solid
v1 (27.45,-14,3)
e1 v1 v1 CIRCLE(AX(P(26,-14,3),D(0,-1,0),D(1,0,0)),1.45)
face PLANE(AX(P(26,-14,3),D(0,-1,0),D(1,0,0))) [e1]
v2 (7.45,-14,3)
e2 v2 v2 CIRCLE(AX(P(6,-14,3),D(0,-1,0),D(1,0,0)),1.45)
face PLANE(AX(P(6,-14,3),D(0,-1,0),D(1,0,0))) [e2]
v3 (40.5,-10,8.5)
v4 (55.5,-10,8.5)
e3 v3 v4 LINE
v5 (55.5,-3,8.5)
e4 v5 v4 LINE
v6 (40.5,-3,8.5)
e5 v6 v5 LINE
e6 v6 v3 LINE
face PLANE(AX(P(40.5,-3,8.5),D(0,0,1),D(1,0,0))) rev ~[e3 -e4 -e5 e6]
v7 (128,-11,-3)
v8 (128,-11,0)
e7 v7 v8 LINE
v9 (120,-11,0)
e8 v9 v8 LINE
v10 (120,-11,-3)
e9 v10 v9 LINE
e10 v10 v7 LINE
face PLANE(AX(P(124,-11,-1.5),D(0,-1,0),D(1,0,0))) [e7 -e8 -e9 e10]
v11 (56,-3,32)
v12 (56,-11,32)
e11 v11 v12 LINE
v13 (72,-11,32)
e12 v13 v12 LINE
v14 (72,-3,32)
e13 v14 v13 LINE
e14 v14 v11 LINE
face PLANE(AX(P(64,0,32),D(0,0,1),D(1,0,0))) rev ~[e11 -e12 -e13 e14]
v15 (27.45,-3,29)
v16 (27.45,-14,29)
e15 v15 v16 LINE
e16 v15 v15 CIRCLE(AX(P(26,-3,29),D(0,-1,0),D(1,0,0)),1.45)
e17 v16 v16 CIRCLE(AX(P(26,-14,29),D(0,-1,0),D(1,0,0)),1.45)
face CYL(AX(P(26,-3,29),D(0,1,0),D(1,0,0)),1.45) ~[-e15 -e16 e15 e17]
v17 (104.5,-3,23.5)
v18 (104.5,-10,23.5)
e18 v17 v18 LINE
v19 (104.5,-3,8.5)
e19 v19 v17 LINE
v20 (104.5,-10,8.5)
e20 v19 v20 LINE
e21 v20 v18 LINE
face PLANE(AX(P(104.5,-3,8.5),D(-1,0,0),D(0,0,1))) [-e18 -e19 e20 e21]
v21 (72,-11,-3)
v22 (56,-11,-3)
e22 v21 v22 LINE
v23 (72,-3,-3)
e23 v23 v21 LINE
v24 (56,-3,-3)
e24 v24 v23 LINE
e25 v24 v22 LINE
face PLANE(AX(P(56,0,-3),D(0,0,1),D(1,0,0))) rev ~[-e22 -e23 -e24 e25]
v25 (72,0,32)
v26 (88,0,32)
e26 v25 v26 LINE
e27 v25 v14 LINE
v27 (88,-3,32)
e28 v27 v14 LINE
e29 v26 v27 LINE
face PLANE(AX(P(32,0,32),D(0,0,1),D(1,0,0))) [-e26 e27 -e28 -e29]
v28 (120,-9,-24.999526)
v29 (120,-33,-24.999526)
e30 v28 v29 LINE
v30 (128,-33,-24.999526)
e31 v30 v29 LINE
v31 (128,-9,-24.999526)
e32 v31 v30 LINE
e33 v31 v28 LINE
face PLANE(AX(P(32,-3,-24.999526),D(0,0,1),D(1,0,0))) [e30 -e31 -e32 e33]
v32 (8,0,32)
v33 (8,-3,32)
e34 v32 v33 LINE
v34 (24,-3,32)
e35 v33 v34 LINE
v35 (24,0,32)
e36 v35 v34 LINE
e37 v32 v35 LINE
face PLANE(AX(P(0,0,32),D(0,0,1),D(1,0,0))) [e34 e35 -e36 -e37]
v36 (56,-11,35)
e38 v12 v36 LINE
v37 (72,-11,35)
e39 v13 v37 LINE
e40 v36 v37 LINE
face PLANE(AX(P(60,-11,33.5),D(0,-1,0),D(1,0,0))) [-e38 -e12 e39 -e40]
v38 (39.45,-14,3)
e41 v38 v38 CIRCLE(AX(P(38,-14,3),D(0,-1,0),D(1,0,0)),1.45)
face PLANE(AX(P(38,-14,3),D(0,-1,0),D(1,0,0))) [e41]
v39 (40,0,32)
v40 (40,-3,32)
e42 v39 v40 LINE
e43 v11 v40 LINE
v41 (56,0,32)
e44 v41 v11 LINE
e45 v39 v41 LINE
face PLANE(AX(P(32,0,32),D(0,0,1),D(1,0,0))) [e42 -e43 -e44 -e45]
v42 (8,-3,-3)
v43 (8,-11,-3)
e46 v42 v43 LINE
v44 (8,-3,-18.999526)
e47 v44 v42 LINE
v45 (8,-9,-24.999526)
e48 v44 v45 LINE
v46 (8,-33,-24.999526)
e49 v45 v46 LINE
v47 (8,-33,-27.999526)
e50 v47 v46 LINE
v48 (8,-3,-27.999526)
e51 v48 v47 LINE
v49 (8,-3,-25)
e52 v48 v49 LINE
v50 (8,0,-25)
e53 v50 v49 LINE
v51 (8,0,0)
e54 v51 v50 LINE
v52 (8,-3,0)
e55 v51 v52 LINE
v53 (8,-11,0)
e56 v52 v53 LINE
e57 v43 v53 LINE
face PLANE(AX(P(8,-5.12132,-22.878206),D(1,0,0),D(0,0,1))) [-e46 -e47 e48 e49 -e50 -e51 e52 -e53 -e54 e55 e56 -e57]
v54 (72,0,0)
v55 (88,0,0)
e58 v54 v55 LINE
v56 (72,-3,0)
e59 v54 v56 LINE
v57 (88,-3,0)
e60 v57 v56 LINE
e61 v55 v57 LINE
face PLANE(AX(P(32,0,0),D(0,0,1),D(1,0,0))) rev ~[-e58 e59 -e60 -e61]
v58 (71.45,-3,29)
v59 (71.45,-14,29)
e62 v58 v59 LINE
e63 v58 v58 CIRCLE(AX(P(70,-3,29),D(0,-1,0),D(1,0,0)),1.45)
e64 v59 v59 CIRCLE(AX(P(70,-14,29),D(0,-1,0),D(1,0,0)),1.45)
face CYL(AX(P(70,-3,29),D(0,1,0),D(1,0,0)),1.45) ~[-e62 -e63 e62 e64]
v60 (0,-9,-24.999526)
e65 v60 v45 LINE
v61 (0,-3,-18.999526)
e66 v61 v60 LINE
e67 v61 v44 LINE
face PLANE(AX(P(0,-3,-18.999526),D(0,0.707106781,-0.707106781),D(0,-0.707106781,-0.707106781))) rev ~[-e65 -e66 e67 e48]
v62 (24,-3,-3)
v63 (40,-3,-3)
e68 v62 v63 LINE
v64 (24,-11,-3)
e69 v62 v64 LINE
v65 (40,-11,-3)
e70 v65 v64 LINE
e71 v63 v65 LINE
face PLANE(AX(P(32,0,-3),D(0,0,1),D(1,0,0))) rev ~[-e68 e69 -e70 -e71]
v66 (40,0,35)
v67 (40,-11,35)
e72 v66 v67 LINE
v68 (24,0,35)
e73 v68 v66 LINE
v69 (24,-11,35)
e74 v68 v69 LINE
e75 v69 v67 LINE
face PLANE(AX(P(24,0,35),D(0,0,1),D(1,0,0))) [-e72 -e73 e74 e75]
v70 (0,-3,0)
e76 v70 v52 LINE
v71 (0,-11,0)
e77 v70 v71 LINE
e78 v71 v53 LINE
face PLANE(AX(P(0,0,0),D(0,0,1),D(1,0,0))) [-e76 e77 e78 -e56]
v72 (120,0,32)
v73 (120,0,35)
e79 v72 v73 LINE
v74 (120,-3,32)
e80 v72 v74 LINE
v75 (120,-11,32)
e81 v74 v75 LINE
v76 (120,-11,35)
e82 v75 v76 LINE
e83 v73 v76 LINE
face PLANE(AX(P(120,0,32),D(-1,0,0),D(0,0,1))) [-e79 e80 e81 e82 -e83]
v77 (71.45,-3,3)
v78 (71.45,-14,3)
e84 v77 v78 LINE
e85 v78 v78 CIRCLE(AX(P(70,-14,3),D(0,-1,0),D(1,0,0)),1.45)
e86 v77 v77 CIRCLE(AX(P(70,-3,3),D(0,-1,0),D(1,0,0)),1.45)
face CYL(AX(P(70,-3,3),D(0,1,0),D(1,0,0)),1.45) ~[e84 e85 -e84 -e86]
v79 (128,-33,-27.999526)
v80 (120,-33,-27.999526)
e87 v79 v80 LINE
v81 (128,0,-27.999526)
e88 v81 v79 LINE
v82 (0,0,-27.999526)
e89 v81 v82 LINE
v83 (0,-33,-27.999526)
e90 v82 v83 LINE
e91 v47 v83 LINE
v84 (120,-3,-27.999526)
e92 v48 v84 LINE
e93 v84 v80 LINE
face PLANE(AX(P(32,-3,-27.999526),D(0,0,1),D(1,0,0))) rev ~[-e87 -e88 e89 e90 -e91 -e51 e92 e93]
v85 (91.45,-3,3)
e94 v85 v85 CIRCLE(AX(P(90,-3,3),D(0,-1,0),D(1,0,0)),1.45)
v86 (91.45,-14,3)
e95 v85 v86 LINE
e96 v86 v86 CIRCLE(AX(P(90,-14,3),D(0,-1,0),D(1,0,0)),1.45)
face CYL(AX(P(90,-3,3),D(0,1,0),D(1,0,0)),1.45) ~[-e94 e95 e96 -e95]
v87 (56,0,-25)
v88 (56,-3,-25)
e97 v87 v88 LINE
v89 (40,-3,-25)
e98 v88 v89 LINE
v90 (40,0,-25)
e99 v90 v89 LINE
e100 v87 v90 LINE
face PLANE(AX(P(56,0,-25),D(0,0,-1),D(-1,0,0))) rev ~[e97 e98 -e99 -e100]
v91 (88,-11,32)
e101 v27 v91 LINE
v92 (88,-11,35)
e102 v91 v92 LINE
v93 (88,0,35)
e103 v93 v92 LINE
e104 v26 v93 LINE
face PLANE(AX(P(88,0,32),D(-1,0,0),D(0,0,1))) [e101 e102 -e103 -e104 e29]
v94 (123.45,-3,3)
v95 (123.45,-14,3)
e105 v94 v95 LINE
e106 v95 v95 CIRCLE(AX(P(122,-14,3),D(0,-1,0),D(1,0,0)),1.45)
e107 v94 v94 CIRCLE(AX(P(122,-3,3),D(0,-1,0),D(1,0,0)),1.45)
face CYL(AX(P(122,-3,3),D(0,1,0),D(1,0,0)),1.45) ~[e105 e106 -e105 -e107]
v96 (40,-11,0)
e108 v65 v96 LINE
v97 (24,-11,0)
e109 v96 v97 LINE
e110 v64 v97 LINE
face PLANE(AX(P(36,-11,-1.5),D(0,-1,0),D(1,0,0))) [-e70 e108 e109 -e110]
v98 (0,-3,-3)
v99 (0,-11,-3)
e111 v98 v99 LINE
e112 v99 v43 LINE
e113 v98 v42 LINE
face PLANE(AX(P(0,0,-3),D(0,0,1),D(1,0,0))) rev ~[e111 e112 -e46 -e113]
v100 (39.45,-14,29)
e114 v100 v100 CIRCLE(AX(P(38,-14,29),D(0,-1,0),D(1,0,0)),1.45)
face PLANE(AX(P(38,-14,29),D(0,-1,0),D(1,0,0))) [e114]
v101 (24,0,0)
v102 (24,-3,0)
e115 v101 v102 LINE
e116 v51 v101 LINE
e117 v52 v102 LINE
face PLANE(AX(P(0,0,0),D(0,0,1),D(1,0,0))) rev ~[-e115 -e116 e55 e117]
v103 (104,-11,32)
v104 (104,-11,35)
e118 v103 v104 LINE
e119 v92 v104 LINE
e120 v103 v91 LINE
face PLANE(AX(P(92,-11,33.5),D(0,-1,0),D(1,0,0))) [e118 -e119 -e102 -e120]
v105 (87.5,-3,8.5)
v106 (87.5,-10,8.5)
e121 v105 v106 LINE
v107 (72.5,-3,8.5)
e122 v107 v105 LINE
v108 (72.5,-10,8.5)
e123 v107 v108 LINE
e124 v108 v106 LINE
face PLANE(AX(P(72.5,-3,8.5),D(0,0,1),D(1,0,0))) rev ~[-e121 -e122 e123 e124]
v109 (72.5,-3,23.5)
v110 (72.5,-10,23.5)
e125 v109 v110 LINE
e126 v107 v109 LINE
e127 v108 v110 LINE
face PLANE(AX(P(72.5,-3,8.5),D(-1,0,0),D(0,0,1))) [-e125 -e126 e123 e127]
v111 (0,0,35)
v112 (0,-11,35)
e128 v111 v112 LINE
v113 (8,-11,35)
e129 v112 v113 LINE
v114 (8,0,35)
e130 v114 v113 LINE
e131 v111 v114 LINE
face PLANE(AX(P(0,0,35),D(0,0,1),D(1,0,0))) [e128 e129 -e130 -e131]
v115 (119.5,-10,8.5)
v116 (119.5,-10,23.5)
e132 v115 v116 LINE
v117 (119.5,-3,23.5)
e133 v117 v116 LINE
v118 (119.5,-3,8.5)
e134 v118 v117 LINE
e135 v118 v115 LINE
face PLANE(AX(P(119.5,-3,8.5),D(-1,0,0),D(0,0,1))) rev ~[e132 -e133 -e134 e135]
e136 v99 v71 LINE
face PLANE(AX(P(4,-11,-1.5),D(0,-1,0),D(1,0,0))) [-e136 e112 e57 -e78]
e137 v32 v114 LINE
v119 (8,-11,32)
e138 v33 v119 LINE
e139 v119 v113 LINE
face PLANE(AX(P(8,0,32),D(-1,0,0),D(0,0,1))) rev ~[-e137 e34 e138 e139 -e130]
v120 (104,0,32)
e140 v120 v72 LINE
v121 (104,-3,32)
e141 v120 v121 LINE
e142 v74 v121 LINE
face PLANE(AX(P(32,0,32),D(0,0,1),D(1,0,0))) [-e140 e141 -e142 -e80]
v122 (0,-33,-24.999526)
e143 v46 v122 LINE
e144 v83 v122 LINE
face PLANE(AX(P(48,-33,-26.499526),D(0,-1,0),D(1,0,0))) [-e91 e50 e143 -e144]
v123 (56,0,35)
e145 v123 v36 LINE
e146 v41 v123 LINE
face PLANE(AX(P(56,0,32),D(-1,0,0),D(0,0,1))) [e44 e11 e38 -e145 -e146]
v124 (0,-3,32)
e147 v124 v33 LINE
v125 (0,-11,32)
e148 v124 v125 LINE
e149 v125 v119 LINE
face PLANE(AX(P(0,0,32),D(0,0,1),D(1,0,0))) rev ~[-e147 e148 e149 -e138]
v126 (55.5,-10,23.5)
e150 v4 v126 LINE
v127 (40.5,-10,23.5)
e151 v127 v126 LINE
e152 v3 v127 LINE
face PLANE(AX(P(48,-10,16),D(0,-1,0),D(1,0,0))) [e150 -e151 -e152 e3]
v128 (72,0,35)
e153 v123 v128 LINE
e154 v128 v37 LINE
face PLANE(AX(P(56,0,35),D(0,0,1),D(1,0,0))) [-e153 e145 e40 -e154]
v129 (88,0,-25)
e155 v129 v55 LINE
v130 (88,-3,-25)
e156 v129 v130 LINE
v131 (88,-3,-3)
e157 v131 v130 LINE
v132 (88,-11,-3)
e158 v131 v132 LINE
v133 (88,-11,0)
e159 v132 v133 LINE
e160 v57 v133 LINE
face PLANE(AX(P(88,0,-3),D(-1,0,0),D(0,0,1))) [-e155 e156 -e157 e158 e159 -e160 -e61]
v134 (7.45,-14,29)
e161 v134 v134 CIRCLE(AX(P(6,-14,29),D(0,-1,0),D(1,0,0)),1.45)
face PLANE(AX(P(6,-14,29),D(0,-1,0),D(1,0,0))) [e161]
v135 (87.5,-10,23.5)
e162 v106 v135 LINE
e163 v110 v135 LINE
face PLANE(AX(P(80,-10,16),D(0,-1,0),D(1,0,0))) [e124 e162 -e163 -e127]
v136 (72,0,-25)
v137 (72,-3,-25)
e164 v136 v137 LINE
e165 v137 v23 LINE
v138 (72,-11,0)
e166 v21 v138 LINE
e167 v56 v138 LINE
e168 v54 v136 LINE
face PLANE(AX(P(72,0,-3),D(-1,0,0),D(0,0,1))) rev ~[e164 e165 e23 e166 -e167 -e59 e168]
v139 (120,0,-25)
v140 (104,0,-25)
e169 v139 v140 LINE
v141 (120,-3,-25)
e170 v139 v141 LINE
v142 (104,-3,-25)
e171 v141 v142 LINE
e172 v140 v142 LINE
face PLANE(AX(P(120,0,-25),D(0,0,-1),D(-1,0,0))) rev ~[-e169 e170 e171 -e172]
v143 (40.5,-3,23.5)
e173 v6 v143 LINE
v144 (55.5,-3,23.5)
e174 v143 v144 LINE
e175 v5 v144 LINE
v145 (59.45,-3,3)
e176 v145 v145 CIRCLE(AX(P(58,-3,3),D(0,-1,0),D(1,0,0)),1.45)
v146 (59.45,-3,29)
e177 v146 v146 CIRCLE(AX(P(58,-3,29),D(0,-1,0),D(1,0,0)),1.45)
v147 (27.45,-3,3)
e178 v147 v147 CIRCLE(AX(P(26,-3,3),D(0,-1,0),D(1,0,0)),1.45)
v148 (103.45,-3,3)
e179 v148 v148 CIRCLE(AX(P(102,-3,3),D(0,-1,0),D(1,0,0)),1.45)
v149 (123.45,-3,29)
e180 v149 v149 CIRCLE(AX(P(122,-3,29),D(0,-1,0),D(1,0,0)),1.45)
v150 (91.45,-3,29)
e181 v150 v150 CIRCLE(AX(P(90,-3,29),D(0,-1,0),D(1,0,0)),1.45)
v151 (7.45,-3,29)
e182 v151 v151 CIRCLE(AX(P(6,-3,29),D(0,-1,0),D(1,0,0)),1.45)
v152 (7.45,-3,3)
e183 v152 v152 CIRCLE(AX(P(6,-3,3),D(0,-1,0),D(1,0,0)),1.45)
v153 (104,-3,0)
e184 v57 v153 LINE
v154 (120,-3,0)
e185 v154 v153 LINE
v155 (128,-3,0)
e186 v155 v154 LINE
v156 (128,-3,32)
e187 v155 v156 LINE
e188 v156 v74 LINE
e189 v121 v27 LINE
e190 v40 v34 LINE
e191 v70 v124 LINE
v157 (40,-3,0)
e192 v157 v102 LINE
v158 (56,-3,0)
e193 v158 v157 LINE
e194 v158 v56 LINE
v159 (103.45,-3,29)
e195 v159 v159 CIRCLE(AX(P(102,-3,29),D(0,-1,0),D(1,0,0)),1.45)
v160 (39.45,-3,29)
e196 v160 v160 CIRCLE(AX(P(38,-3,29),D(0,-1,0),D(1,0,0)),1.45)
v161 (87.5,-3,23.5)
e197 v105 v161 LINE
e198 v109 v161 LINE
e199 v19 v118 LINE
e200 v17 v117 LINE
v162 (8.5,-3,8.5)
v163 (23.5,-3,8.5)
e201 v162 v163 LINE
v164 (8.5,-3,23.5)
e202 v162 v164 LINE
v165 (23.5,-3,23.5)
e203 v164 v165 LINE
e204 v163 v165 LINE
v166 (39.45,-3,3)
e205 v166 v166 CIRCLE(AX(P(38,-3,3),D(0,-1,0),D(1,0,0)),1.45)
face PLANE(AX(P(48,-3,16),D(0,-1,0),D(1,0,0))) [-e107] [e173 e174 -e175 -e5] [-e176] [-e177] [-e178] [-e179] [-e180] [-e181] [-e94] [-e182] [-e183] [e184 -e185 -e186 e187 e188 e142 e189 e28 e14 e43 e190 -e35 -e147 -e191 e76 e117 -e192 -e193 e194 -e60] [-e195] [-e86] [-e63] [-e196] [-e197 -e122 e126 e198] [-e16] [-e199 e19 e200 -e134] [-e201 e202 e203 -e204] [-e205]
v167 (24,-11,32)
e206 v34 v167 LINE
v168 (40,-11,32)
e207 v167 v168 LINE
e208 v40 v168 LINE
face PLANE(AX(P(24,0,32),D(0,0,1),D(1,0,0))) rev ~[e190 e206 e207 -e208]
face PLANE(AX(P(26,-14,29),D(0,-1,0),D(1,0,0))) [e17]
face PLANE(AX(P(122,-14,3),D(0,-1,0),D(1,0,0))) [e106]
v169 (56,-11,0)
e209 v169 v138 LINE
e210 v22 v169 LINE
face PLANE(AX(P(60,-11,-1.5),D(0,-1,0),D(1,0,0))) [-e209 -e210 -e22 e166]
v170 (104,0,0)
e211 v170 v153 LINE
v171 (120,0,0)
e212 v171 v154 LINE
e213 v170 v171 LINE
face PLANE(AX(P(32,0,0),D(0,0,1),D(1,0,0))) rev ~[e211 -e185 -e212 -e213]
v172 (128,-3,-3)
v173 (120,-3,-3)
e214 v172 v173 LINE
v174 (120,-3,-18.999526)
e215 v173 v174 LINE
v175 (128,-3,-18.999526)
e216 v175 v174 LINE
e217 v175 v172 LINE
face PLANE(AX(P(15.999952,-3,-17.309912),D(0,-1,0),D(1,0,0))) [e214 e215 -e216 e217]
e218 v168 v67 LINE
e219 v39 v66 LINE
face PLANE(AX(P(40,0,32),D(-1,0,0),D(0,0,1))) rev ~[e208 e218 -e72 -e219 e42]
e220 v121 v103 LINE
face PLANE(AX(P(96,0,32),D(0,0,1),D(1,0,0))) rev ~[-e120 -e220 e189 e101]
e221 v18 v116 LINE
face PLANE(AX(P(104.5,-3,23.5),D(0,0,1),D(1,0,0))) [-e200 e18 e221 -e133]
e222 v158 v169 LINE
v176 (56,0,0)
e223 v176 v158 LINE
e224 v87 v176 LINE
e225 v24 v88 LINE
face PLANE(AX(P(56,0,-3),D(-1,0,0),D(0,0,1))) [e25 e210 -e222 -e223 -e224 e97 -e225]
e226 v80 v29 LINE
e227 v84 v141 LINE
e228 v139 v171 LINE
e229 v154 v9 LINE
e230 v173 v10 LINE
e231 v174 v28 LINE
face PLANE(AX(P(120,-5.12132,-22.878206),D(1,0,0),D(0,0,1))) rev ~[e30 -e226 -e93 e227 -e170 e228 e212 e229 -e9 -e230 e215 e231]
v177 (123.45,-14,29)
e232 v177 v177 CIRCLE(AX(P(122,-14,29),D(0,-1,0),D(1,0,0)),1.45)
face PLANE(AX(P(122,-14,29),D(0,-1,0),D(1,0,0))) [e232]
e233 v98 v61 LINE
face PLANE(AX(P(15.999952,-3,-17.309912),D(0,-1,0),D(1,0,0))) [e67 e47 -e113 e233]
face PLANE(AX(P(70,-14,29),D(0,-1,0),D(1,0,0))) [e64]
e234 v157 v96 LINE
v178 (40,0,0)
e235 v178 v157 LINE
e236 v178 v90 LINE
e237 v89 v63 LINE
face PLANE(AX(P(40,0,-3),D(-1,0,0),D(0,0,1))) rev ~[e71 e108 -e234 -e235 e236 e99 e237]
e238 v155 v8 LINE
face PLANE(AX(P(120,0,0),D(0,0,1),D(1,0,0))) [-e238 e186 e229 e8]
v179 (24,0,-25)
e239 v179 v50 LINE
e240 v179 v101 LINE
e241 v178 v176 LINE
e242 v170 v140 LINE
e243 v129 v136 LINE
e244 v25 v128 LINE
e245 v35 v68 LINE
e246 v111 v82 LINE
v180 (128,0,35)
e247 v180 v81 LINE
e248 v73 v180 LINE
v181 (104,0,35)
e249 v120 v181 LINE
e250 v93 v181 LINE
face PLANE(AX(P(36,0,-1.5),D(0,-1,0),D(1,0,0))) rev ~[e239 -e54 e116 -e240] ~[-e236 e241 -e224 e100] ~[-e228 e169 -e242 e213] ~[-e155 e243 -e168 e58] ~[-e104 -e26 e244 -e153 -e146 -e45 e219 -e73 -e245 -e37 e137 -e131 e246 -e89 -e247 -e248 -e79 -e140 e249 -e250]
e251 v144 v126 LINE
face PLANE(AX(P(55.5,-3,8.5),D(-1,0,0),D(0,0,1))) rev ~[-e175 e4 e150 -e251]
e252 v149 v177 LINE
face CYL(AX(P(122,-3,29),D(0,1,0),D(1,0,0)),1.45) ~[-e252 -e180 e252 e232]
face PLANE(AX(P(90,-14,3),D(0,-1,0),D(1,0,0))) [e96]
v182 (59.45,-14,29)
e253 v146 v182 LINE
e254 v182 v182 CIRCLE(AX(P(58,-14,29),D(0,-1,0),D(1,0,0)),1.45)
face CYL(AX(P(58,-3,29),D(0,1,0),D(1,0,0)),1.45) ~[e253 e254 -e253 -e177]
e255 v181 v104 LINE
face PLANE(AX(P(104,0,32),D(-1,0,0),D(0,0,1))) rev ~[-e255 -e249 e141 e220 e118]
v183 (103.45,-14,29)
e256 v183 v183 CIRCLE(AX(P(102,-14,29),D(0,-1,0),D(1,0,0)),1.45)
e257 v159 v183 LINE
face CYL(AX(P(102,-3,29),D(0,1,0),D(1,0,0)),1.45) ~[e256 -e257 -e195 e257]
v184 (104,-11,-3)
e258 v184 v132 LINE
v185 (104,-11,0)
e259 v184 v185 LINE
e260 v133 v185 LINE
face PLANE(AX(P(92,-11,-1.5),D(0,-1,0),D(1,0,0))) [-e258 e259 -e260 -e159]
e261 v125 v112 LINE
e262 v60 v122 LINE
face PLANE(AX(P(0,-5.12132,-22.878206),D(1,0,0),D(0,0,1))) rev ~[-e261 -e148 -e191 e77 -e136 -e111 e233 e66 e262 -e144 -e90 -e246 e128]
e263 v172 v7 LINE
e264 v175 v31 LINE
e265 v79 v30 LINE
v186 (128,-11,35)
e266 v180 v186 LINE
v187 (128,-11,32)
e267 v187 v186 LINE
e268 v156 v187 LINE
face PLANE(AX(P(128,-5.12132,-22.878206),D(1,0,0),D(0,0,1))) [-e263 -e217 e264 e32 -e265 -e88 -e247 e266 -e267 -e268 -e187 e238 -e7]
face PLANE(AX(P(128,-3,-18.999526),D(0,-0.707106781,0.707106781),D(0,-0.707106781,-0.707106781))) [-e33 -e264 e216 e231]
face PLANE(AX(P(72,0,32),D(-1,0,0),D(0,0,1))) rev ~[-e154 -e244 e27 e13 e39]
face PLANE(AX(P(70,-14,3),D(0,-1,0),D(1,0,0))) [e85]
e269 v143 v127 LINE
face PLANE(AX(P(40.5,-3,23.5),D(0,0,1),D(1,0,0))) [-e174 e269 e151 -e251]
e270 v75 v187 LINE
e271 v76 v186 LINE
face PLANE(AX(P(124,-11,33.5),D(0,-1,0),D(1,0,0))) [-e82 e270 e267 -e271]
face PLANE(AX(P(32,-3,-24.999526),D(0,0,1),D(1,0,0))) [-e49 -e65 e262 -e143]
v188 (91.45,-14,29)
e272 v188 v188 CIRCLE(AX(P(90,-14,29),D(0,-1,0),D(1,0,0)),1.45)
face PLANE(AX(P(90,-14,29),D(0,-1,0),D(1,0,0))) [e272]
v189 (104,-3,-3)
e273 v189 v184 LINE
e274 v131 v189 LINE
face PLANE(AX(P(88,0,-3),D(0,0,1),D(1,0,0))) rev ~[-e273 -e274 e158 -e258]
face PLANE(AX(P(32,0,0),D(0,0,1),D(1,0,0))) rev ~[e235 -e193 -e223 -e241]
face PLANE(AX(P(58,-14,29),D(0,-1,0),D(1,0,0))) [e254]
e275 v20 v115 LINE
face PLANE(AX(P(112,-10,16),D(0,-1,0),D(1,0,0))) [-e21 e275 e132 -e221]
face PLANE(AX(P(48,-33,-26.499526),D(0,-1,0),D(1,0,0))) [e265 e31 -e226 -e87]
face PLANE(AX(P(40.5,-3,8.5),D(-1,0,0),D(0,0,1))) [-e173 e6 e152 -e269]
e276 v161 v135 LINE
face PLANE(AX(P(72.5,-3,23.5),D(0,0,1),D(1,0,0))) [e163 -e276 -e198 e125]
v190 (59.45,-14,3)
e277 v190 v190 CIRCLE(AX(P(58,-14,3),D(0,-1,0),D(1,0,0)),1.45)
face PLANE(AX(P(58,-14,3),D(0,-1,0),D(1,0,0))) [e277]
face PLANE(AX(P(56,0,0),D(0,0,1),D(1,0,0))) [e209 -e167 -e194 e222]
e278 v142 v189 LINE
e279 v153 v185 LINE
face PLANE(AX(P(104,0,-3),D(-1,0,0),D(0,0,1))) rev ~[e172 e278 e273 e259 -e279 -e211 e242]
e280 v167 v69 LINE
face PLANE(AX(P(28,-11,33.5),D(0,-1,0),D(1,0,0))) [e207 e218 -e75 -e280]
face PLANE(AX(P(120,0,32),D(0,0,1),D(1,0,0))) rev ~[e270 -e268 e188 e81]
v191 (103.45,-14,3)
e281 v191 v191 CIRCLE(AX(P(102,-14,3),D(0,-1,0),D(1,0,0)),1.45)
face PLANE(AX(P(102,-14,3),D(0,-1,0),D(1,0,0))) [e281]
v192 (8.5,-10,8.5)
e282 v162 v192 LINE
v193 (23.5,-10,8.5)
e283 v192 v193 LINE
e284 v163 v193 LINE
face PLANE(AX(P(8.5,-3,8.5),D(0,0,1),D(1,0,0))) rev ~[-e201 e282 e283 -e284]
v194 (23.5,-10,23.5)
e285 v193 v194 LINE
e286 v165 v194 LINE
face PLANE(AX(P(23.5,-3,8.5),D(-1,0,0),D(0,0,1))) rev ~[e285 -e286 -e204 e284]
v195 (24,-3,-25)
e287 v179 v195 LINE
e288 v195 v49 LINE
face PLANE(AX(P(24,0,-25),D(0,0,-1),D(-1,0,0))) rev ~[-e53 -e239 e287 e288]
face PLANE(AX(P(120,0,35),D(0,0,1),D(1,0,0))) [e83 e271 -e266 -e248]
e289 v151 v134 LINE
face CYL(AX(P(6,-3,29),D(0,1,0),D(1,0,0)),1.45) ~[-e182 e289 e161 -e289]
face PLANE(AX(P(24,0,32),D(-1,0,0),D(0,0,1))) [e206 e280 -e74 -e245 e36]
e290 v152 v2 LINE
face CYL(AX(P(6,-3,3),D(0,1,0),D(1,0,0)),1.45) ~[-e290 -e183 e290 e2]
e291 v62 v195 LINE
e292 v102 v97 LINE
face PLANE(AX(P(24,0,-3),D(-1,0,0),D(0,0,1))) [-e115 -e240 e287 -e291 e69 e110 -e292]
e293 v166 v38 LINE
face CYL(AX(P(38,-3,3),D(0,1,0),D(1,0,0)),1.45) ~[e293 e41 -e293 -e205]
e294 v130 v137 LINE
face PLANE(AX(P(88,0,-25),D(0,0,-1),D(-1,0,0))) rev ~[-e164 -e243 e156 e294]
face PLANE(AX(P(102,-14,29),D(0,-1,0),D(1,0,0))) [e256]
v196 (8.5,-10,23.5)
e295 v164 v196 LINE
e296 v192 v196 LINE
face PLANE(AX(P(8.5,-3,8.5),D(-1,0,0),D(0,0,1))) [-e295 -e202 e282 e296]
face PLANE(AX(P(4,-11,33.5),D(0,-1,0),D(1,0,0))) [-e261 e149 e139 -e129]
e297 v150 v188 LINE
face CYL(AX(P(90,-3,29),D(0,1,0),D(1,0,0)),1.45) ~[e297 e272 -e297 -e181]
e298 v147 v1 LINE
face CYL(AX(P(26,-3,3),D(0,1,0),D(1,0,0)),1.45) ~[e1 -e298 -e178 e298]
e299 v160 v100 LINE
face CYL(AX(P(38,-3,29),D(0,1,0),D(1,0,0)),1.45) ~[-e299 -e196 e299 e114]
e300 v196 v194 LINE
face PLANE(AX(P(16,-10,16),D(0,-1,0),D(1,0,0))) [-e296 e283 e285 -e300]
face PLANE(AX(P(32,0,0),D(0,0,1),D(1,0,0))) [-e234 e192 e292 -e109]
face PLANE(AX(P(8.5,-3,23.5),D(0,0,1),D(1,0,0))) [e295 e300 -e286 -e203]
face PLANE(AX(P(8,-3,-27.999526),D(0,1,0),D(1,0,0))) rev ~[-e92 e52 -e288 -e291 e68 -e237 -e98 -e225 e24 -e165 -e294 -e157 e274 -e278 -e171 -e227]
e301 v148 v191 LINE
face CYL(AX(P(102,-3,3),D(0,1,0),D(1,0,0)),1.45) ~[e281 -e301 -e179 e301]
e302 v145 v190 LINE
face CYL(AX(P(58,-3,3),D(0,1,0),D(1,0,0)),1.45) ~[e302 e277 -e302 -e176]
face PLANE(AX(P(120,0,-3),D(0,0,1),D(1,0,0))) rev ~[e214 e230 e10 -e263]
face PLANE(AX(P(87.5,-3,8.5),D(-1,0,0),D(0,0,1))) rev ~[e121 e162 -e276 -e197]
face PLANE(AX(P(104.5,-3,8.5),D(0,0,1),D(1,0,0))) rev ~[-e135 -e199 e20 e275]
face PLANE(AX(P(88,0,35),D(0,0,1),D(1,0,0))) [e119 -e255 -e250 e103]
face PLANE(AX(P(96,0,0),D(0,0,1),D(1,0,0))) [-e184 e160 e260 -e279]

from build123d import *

# Parameters (mm, degrees)
SKETCH_W               = 32
SKETCH_H               = 32
PAD_DEPTH              = 3
SKETCH001_R            = 1.45
PAD001_DEPTH           = 11
SKETCH002_W            = 15
SKETCH002_H            = 15
PAD002_DEPTH           = 7
SKETCH003_W            = 8
SKETCH003_H            = 3
PAD003_DEPTH           = 11
PAD004_DEPTH           = 3
SKETCH005_W            = 32
SKETCH005_H            = 3
PAD005_DEPTH           = 30
LINEARPATTERN_COUNT    = 4
LINEARPATTERN_PITCH    = 32
LINEARPATTERN001_COUNT = 4
LINEARPATTERN001_PITCH = 32
LINEARPATTERN002_COUNT = 4
LINEARPATTERN002_PITCH = 32
LINEARPATTERN003_COUNT = 4
LINEARPATTERN003_PITCH = 32
LINEARPATTERN004_COUNT = 4
LINEARPATTERN004_PITCH = 32
LINEARPATTERN005_COUNT = 4
LINEARPATTERN005_PITCH = 32
SKETCH006_W            = 112
SKETCH006_H            = 30
POCKET_DEPTH           = 3
PAD006_DEPTH           = 8
PAD007_DEPTH           = 8


with BuildPart() as part:
    # Sketch → Pad (new body)
    with BuildSketch(Plane.XZ):
        with Locations((16, 16)):
            Rectangle(SKETCH_W, SKETCH_H)
    pad = extrude(amount=PAD_DEPTH)

    # Sketch001 (on Face6 of Pad) → Pad001 (join)
    with BuildSketch(Plane.XZ.offset(3)):
        with Locations((6, 3)):
            Circle(SKETCH001_R)
        with Locations((26, 3)):
            Circle(SKETCH001_R)
        with Locations((26, 29)):
            Circle(SKETCH001_R)
        with Locations((6, 29)):
            Circle(SKETCH001_R)
    pad001 = extrude(amount=PAD001_DEPTH)

    # Sketch002 (on Face5 of Pad001) → Pad002 (join)
    with BuildSketch(Plane.XZ.offset(3)):
        with Locations((16, 16)):
            Rectangle(SKETCH002_W, SKETCH002_H)
    pad002 = extrude(amount=PAD002_DEPTH)

    # Sketch003 → Pad003 (join)
    with BuildSketch(Plane.XZ):
        with Locations((4, -1.5)):
            Rectangle(SKETCH003_W, SKETCH003_H)
        with Locations((4, 33.5)):
            Rectangle(SKETCH003_W, SKETCH003_H)
        with Locations((28, 33.5)):
            Rectangle(SKETCH003_W, SKETCH003_H)
        with Locations((28, -1.5)):
            Rectangle(SKETCH003_W, SKETCH003_H)
    pad003 = extrude(amount=PAD003_DEPTH)

    # Sketch004 → Pad004 (join)
    with BuildSketch(Plane.XZ):
        Polygon((0, -2.999526), (0, -27.999526), (32, -27.999526), (32, -3), (24, -3), (24, -25), (8, -25), (8, -3), align=None)
    pad004 = extrude(amount=PAD004_DEPTH)

    # Sketch005 (on Face42 of Pad004) → Pad005 (join)
    with BuildSketch(Plane.XZ.offset(3)):
        with Locations((16, -26.499526)):
            Rectangle(SKETCH005_W, SKETCH005_H)
    pad005 = extrude(amount=PAD005_DEPTH)

    # LinearPattern: Pad ×4
    with Locations(*[(i * LINEARPATTERN_PITCH, 0, 0) for i in range(1, LINEARPATTERN_COUNT)]):
        add(pad)

    # LinearPattern001: Pad001 ×4
    with Locations(*[(i * LINEARPATTERN001_PITCH, 0, 0) for i in range(1, LINEARPATTERN001_COUNT)]):
        add(pad001)

    # LinearPattern002: Pad002 ×4
    with Locations(*[(i * LINEARPATTERN002_PITCH, 0, 0) for i in range(1, LINEARPATTERN002_COUNT)]):
        add(pad002)

    # LinearPattern003: Pad003 ×4
    with Locations(*[(i * LINEARPATTERN003_PITCH, 0, 0) for i in range(1, LINEARPATTERN003_COUNT)]):
        add(pad003)

    # LinearPattern004: Pad004 ×4
    with Locations(*[(i * LINEARPATTERN004_PITCH, 0, 0) for i in range(1, LINEARPATTERN004_COUNT)]):
        add(pad004)

    # LinearPattern005: Pad005 ×4
    with Locations(*[(i * LINEARPATTERN005_PITCH, 0, 0) for i in range(1, LINEARPATTERN005_COUNT)]):
        add(pad005)

    # Sketch006 (on Face120 of LinearPattern005) → Pocket (cut)
    with BuildSketch(Plane(origin=(0, 0, -27.999526), x_dir=(1, 0, 0), z_dir=(0, 0, -1))):
        with Locations((64, 18)):
            Rectangle(SKETCH006_W, SKETCH006_H)
    extrude(amount=-POCKET_DEPTH, mode=Mode.SUBTRACT)

    # Sketch007 (on Face135 of Pocket) → Pad006 (join)
    with BuildSketch(Plane(origin=(0, 0, 0), x_dir=(0, 0, -1), z_dir=(-1, 0, 0))):
        Polygon((24.999526, 3), (18.999526, 3), (24.999526, 9), align=None)
    extrude(amount=-PAD006_DEPTH)

    # Sketch008 (on Face192 of Pad006) → Pad007 (join)
    with BuildSketch(Plane(origin=(128, 0, 0), x_dir=(0, 0, 1), z_dir=(1, 0, 0))):
        Polygon((-24.999526, 3), (-18.999526, 3), (-24.999526, 9), align=None)
    extrude(amount=-PAD007_DEPTH)


solid = part.part
